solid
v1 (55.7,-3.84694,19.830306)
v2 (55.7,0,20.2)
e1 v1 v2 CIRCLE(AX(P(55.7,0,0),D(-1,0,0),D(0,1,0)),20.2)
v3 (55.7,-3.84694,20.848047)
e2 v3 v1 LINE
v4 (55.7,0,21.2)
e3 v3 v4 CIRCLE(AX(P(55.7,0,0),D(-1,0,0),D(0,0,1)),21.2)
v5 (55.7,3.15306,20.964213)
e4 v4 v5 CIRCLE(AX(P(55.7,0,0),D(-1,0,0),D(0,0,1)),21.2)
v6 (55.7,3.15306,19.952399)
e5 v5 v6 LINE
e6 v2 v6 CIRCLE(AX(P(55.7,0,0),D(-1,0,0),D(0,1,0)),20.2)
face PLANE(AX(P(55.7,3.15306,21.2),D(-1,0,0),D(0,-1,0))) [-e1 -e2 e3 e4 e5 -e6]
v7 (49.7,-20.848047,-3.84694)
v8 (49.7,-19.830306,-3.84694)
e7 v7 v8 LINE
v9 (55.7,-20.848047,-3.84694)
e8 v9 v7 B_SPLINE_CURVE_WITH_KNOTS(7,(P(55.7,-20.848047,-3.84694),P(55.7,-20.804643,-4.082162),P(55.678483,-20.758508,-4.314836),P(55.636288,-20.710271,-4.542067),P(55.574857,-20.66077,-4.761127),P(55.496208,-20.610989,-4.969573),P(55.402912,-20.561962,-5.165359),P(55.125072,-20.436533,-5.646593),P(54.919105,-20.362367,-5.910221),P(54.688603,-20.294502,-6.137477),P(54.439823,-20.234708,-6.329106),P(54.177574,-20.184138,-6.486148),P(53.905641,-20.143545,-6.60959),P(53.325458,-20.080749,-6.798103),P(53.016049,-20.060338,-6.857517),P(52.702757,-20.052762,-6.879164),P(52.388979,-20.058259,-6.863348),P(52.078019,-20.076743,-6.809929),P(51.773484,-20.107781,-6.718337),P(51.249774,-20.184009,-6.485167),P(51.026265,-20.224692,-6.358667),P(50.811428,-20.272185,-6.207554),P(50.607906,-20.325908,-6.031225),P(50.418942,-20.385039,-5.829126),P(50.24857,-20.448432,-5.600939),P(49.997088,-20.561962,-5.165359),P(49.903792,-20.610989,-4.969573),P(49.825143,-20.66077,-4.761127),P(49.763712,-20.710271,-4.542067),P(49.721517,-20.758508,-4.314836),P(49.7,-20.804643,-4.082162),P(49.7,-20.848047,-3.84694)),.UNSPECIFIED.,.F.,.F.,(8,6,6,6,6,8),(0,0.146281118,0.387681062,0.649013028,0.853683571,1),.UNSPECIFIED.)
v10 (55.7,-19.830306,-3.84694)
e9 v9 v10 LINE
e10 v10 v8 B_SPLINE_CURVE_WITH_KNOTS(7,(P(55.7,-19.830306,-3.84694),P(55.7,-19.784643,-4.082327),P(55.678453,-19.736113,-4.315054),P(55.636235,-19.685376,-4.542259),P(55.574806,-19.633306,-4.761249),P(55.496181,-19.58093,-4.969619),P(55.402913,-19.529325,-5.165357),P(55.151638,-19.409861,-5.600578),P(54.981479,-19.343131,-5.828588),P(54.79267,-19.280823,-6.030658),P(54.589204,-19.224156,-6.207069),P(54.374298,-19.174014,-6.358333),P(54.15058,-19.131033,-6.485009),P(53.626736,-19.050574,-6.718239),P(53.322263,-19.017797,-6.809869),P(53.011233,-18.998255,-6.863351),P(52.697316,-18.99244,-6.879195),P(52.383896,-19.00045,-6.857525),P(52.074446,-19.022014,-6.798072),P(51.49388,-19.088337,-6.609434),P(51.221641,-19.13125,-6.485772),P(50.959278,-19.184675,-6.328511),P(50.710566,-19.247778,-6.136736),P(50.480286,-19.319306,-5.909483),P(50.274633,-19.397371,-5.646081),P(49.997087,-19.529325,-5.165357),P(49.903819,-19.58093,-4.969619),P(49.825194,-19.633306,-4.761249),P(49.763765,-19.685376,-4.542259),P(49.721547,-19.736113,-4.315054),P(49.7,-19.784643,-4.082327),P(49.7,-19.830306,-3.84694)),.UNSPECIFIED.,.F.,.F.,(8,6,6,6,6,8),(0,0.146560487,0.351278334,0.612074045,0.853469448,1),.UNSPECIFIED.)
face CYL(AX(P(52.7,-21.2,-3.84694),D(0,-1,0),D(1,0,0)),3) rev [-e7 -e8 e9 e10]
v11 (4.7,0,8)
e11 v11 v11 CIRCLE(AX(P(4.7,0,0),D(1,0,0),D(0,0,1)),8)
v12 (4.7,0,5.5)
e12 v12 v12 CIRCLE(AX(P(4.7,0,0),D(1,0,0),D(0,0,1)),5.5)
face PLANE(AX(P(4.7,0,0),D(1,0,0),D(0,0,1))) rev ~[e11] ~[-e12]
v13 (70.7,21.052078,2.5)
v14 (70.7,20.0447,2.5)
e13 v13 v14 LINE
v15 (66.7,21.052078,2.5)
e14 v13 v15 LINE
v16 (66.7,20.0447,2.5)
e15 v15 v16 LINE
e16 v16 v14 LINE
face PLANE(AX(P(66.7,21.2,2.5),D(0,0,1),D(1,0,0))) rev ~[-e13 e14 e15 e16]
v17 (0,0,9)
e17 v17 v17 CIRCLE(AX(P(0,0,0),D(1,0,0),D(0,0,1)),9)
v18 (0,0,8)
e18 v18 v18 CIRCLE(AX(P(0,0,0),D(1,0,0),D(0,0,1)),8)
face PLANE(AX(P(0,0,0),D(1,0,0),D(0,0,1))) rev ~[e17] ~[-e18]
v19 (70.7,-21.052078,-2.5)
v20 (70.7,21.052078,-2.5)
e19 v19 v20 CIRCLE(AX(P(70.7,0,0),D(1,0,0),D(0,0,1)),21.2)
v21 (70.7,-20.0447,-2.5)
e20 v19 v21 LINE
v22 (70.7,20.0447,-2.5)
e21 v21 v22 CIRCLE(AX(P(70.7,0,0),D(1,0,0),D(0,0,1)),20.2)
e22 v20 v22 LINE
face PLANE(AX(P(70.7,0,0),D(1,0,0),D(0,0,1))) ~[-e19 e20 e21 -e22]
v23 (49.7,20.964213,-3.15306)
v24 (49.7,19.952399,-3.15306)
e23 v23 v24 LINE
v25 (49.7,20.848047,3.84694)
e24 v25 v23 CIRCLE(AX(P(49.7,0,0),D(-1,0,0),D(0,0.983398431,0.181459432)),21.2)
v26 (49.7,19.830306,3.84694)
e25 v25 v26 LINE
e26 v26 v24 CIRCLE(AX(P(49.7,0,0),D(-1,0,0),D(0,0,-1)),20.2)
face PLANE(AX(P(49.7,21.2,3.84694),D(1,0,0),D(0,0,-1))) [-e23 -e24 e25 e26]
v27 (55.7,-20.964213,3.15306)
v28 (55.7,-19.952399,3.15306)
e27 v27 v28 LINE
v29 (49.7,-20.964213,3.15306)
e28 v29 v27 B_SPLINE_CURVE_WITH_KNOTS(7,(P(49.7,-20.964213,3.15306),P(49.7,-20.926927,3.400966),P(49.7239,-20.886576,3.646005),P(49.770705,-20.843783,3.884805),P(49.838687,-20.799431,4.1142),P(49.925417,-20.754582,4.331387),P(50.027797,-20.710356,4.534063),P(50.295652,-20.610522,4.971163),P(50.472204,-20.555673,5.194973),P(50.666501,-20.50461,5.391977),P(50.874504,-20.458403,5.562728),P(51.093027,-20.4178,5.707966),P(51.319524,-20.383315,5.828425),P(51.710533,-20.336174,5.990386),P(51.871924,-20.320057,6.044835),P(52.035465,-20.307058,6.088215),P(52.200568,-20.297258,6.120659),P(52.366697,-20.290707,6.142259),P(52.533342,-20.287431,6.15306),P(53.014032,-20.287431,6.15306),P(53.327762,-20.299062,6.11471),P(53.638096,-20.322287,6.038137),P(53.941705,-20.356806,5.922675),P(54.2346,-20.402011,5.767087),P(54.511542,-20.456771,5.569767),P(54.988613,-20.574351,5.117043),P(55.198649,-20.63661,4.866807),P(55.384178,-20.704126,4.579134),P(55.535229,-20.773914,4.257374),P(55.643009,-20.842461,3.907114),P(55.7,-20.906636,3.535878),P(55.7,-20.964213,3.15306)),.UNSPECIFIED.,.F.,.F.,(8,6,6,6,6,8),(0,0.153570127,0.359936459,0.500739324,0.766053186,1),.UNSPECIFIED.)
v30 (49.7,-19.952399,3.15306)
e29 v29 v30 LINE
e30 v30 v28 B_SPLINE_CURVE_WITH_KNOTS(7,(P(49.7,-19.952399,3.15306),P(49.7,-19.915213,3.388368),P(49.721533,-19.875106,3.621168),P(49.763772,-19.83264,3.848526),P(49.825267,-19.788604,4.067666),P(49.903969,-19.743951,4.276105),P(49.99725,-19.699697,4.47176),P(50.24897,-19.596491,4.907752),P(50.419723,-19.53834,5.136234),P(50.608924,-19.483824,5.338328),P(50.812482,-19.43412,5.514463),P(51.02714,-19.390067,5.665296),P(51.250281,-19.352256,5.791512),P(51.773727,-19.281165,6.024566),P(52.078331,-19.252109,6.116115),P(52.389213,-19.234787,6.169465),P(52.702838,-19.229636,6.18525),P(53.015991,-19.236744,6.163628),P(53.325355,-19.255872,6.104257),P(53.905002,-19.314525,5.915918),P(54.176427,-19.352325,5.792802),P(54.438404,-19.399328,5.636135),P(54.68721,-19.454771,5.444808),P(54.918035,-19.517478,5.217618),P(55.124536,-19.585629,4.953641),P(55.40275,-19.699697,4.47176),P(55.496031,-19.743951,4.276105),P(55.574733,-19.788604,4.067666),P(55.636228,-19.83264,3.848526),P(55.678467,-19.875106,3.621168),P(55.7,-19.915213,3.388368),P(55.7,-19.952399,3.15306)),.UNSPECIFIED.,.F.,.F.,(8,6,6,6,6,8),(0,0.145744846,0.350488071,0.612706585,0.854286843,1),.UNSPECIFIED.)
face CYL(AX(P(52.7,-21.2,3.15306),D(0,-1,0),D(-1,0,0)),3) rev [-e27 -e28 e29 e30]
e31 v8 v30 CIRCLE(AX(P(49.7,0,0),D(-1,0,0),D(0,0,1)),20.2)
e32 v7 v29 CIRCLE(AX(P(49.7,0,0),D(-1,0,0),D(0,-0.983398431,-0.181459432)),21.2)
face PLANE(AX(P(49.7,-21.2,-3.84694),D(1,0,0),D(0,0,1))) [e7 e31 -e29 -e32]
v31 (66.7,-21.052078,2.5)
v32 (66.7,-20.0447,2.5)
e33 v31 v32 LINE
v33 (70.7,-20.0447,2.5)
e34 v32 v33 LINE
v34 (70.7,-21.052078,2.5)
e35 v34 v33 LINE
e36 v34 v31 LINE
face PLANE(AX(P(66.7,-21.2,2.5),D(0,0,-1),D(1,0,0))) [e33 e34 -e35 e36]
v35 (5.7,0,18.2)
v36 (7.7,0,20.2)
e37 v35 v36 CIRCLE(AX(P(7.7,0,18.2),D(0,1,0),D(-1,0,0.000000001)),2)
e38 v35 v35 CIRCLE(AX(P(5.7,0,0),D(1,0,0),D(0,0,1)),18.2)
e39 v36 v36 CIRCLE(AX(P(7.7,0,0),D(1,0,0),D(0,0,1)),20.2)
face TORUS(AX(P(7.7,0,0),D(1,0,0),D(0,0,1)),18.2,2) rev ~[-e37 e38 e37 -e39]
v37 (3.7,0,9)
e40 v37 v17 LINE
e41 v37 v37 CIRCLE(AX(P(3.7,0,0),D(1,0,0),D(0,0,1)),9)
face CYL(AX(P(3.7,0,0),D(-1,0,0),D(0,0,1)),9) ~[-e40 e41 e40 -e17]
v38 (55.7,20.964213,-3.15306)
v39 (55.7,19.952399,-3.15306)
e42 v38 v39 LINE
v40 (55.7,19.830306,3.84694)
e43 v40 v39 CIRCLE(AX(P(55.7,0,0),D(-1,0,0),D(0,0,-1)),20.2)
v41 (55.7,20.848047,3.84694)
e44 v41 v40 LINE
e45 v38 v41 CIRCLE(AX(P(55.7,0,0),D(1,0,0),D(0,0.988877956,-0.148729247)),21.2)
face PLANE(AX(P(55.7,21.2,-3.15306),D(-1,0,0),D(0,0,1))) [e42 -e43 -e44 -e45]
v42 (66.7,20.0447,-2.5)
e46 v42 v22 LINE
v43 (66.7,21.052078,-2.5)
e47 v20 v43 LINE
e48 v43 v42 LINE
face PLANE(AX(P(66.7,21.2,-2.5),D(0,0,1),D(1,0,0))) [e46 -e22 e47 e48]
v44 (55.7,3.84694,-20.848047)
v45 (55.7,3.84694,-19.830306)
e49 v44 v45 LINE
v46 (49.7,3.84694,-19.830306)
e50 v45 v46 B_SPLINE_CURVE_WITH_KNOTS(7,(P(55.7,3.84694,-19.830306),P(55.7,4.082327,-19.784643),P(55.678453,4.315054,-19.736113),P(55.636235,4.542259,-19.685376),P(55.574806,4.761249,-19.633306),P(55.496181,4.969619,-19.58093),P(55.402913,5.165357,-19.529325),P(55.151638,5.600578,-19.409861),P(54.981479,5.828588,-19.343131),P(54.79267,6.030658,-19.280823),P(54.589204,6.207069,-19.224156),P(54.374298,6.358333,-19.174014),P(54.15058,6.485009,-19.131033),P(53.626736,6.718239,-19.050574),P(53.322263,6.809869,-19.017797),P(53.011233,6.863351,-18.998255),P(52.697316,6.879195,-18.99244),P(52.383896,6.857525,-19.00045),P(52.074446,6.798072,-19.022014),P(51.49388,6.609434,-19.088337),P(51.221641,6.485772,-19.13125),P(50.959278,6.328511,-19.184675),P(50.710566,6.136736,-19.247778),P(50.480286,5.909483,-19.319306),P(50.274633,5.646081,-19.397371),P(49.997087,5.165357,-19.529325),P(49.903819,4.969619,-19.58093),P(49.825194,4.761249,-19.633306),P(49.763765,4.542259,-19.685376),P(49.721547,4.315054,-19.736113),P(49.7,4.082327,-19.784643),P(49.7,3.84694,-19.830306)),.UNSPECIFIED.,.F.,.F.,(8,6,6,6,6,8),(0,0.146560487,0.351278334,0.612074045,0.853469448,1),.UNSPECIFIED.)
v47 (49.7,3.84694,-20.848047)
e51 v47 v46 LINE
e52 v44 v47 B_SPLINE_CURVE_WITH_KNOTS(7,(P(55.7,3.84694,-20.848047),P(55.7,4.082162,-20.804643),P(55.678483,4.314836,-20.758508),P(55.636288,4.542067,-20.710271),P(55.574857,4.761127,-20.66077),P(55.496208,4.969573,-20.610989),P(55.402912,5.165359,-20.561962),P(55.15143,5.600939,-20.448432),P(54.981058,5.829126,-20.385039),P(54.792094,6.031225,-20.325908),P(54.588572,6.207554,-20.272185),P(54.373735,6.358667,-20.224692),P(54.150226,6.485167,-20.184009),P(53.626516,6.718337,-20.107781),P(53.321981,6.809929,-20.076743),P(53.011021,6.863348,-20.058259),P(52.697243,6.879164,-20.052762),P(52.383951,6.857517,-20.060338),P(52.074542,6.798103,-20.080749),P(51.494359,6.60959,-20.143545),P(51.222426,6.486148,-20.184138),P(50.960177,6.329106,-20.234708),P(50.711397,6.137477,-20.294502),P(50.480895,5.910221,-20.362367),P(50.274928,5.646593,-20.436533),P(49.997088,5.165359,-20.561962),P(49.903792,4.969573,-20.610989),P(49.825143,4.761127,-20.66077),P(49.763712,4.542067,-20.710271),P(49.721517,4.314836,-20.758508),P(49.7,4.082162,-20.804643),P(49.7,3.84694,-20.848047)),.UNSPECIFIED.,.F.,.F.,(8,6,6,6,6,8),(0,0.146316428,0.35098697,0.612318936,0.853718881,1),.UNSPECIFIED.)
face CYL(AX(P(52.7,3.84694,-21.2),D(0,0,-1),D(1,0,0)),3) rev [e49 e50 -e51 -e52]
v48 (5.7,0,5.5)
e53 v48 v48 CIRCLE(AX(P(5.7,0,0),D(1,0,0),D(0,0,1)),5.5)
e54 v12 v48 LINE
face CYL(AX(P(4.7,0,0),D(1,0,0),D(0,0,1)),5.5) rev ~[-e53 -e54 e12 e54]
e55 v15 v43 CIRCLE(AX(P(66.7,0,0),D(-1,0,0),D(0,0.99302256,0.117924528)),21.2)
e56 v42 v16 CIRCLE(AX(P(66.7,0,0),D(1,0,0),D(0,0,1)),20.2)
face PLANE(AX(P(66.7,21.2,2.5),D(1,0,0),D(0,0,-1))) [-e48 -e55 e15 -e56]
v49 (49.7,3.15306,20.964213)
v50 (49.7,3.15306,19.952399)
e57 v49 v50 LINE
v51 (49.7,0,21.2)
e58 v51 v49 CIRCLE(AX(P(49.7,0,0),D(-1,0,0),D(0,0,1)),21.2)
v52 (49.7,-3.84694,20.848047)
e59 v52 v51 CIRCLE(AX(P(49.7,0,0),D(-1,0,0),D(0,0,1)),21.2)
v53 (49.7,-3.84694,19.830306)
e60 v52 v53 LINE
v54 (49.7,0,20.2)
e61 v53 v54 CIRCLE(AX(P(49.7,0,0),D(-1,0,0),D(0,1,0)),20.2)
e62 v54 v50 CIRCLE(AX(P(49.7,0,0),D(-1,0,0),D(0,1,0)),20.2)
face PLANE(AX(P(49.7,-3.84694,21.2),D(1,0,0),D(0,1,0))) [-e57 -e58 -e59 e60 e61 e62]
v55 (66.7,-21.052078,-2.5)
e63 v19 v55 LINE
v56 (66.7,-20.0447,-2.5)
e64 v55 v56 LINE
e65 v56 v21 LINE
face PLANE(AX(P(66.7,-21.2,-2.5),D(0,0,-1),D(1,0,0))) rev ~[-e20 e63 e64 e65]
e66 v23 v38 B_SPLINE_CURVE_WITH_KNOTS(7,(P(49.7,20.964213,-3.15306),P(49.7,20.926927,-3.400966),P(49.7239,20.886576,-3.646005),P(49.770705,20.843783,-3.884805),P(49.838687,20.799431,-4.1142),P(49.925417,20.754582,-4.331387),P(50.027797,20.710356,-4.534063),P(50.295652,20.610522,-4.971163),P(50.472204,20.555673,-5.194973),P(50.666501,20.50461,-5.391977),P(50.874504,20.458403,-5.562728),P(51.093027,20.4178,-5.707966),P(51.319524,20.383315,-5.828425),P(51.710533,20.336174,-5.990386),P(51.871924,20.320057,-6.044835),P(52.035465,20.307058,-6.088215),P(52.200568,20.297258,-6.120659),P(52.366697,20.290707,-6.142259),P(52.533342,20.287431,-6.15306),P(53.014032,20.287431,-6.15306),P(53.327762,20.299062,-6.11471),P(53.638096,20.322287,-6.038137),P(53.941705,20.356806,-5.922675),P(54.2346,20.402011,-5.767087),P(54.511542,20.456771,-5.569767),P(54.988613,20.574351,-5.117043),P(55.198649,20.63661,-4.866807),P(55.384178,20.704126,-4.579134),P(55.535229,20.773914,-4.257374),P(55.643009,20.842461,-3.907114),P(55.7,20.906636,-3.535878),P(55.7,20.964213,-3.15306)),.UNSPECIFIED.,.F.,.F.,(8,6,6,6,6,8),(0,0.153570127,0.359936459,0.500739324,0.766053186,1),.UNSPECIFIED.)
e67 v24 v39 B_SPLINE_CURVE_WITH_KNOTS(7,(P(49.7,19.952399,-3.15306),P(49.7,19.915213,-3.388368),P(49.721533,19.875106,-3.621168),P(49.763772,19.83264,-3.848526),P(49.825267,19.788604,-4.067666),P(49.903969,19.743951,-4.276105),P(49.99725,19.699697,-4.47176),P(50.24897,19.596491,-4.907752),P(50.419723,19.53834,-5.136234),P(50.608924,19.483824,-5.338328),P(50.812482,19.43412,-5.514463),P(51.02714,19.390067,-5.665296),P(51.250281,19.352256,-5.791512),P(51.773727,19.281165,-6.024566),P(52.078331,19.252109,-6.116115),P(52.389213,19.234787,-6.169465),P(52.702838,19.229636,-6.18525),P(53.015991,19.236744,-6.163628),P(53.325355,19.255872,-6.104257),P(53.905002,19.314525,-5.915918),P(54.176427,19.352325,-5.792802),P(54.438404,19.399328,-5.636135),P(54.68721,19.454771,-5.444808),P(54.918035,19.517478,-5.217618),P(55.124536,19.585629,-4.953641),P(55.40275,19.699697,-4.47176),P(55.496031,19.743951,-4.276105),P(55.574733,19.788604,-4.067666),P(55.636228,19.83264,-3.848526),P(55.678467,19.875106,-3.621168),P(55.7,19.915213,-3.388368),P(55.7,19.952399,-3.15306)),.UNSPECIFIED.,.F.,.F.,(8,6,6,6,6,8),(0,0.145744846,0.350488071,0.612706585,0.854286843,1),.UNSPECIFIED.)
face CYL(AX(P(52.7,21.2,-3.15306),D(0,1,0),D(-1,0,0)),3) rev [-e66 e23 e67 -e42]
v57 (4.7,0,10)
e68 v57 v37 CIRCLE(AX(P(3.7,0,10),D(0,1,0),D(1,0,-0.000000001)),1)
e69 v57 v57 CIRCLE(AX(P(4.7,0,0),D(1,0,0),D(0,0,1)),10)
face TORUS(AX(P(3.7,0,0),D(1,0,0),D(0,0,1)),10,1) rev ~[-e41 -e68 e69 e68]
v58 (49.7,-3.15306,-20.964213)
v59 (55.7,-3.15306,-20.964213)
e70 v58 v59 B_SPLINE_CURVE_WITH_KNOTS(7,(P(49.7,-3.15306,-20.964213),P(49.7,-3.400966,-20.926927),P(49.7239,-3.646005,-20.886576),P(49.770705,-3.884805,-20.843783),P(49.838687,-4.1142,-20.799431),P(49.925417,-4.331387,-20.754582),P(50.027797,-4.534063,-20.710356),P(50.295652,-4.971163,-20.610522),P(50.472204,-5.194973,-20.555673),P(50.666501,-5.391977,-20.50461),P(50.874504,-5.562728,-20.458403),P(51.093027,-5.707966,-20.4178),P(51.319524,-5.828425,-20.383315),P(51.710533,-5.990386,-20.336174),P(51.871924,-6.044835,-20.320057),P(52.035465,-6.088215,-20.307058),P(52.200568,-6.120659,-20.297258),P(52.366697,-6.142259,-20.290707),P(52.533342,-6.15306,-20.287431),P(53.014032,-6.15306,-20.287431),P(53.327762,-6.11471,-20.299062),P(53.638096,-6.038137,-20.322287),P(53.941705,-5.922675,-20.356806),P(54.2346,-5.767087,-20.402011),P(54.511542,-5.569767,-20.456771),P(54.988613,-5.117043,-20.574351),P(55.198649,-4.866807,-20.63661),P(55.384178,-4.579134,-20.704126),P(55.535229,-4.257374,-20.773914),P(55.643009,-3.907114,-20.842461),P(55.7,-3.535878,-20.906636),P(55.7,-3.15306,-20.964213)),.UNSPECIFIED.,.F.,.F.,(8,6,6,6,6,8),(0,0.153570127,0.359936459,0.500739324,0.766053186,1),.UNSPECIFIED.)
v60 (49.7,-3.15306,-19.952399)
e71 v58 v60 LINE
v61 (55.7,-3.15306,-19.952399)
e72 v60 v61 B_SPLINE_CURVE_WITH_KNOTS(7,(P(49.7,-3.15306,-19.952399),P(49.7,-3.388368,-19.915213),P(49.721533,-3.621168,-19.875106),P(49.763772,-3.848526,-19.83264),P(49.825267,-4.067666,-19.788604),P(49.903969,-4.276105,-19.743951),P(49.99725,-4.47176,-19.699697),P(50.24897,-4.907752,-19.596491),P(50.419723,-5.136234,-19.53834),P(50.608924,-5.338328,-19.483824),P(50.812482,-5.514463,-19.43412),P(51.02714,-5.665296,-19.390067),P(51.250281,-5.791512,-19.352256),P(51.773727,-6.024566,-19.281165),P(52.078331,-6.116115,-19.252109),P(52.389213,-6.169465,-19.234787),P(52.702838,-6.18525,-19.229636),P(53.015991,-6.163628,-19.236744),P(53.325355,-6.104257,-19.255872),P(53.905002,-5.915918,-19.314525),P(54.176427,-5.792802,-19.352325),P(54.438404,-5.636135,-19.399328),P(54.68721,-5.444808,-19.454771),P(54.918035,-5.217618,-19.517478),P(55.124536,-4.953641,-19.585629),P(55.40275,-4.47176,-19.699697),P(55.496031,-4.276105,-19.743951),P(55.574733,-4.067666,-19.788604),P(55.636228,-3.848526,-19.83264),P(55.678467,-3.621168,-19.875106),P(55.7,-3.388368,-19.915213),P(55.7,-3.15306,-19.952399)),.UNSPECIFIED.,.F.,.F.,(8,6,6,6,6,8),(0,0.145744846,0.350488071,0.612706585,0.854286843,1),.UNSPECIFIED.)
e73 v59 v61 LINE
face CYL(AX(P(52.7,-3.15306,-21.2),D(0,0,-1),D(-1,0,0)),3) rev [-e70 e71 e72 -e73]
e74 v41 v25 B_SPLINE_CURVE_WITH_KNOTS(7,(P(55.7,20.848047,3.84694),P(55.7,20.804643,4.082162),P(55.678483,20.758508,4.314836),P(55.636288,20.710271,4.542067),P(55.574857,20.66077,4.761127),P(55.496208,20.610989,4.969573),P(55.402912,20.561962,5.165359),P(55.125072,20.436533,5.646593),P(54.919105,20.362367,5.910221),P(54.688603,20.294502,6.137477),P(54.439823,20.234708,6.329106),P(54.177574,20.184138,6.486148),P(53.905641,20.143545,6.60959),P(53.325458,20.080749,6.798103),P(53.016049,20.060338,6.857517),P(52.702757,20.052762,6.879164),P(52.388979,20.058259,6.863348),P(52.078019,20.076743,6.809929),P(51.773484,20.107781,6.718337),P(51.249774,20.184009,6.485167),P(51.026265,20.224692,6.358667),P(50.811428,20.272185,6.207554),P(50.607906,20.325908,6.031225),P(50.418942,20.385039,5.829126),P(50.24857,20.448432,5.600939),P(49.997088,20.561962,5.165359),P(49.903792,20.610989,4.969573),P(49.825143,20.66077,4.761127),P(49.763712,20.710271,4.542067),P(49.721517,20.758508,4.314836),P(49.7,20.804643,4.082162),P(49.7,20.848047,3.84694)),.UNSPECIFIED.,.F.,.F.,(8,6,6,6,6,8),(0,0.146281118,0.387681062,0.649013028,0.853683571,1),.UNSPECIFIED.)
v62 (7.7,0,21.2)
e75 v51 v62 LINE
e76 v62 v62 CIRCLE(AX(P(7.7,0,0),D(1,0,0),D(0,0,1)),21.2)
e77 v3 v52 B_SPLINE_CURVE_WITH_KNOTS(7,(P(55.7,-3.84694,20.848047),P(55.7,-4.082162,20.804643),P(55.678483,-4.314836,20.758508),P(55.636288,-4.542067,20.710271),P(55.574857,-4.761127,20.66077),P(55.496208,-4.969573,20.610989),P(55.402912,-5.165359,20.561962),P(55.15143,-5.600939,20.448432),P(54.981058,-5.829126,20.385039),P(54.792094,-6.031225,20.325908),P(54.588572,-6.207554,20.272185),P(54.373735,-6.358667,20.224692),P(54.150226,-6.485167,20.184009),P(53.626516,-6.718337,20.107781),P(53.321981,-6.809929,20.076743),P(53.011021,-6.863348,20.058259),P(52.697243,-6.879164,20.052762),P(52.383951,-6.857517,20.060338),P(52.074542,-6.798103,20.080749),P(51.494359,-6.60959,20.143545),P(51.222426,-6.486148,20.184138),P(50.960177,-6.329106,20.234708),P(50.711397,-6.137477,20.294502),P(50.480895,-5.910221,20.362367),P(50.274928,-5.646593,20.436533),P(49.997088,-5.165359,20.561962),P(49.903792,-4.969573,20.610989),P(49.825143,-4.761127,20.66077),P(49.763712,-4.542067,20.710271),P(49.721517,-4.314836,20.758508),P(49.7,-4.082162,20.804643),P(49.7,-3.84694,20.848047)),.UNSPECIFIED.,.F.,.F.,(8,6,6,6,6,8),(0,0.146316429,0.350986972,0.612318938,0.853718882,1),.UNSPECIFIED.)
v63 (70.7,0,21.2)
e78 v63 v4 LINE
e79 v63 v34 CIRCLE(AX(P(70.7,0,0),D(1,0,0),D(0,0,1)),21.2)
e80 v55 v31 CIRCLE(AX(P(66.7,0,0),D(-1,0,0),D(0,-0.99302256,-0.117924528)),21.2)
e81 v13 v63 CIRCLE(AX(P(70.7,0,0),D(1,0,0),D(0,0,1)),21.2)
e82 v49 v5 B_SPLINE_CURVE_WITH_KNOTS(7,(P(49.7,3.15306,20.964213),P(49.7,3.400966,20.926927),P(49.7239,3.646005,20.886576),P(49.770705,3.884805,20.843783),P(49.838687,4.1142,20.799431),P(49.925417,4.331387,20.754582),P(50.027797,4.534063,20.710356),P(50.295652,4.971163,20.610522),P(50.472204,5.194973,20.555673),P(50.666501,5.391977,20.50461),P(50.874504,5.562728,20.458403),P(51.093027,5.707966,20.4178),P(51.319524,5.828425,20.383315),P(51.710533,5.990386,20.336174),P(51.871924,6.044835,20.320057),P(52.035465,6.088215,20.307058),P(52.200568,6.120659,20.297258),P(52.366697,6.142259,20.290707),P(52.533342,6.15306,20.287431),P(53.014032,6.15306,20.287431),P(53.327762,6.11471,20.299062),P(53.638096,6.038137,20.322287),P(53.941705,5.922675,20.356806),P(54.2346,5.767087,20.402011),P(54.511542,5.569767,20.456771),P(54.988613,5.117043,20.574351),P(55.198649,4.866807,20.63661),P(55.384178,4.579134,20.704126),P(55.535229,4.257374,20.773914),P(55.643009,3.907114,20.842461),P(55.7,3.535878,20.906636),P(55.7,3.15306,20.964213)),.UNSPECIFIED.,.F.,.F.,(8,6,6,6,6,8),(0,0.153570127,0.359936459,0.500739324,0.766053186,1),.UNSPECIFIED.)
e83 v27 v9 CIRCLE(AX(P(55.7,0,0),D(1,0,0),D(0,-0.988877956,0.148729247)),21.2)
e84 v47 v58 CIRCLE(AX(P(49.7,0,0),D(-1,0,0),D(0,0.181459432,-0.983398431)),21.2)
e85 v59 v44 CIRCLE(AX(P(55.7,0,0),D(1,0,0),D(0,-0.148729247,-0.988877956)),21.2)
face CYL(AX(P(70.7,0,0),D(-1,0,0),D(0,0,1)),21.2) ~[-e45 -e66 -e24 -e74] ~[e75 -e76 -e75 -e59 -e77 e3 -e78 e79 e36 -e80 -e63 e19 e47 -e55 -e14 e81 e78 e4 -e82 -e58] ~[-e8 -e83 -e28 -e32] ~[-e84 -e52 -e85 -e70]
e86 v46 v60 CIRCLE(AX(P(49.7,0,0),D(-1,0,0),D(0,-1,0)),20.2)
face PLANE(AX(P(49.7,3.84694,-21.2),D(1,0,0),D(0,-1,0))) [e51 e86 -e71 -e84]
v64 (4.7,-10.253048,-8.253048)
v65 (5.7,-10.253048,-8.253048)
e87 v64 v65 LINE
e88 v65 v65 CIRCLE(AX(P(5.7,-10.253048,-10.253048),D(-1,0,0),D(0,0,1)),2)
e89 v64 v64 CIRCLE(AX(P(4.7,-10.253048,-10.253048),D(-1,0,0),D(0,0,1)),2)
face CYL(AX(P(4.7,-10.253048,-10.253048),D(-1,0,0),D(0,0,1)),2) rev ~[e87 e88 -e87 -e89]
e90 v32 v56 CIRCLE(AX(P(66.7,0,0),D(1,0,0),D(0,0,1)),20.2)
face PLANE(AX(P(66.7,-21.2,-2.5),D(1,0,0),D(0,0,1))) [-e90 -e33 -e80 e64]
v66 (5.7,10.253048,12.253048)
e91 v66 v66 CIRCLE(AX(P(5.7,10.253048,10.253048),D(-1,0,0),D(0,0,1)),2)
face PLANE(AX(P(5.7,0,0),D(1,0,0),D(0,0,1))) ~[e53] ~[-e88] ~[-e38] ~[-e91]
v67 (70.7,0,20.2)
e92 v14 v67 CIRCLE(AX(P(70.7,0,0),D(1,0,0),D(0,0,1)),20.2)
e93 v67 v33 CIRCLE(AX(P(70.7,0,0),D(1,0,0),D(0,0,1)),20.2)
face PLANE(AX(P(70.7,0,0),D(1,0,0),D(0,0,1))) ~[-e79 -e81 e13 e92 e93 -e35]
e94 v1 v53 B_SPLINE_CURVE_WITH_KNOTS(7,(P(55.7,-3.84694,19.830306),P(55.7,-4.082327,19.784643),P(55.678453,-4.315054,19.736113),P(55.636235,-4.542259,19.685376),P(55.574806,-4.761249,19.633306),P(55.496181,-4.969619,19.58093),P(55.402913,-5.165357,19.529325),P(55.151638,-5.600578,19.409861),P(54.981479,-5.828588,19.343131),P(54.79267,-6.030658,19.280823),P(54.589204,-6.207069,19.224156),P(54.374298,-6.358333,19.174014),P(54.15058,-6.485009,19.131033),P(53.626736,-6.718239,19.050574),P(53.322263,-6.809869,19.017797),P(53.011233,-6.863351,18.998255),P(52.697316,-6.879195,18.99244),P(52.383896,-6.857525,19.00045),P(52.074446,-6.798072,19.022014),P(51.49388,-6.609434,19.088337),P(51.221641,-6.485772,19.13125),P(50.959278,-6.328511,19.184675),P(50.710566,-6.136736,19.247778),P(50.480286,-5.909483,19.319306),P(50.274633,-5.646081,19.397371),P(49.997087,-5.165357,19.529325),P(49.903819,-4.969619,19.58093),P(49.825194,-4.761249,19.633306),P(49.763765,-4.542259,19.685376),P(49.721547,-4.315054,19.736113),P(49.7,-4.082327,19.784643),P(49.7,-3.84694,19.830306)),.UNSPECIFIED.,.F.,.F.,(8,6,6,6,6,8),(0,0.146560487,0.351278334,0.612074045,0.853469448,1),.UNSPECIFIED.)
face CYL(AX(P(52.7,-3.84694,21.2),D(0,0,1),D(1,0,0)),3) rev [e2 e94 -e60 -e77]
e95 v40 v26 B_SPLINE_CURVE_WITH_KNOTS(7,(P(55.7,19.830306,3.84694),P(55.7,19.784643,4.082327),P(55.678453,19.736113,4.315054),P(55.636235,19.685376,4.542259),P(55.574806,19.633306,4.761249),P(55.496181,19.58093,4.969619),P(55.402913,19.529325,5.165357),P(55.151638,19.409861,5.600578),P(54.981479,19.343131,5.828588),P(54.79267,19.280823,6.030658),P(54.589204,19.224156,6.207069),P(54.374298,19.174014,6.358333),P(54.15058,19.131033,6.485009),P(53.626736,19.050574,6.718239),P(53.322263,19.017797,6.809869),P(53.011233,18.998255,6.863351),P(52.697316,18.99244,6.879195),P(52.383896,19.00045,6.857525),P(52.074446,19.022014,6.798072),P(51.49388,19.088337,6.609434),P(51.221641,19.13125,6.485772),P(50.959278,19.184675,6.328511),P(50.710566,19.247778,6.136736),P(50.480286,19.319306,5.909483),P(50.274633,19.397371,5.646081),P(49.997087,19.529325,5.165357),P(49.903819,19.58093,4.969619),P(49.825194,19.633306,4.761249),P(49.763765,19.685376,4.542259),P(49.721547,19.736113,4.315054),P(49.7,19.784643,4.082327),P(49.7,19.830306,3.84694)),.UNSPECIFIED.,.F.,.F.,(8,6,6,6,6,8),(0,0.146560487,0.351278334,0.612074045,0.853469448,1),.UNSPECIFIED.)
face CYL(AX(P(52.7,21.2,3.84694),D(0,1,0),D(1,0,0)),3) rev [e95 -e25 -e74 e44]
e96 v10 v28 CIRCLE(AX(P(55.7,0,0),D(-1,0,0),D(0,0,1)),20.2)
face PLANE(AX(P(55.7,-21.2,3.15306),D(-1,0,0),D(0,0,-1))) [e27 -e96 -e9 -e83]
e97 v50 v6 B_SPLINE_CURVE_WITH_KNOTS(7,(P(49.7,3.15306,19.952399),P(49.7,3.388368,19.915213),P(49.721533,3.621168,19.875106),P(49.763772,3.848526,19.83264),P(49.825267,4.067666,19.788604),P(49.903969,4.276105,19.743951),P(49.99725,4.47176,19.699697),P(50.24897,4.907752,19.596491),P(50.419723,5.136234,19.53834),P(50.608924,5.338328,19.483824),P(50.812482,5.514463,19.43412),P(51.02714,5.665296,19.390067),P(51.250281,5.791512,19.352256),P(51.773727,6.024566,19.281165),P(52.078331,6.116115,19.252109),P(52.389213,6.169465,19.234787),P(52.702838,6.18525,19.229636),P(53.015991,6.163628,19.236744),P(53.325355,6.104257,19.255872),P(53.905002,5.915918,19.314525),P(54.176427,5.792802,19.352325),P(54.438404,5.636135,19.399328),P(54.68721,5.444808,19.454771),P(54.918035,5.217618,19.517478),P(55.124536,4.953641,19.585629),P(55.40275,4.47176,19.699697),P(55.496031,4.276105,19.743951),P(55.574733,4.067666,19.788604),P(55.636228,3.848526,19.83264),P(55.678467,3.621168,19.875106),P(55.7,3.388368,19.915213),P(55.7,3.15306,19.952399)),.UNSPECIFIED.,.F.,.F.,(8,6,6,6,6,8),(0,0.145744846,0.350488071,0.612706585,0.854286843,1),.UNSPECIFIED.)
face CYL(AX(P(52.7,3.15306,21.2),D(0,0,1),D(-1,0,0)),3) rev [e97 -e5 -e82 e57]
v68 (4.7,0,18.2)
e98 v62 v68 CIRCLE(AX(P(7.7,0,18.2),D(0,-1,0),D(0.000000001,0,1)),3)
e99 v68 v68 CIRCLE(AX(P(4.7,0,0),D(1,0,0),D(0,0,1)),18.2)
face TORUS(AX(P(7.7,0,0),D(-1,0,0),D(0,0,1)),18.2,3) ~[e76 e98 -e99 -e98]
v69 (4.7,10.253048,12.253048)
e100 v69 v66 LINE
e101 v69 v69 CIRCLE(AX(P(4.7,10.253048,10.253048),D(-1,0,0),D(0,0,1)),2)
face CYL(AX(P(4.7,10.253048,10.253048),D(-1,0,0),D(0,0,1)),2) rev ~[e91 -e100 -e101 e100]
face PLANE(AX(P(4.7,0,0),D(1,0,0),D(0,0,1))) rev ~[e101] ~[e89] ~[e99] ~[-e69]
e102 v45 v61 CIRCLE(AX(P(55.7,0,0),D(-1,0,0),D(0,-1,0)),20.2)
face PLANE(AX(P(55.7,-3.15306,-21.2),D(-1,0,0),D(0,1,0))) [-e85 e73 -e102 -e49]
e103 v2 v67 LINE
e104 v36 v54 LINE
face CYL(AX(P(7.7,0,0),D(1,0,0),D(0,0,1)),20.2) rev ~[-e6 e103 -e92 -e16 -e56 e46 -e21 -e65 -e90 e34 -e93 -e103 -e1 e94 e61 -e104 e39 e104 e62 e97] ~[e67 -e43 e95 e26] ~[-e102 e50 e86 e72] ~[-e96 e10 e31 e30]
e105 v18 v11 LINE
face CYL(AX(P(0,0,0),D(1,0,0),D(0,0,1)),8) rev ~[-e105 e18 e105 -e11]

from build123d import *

# Parameters (mm, degrees)
CUT_EXTRUDE6_REACH      = 87.122
CUT_EXTRUDE6_END_RADIUS = 20.2
CIRPATTERN21_COUNT      = 4
SKETCH10_W              = 4
SKETCH10_H              = 5
CUT_EXTRUDE7_DEPTH      = 10
CIRPATTERN22_COUNT      = 2
CUT_EXTRUDE8_REACH      = 74.491
SKETCH13_R              = 2


with BuildPart() as part:
    # Sketch1 → Revolve2 (revolve)
    with BuildSketch(Plane.XY, mode=Mode.PRIVATE) as revolve2_sk:
        with BuildLine():
            Line((70.7, 21.2), (7.7, 21.2))
            ThreePointArc((7.7, 21.2), (5.578679656, 20.321320344), (4.7, 18.2))
            Line((4.7, 18.2), (4.7, 10))
            ThreePointArc((4.7, 10), (4.407106781, 9.292893219), (3.7, 9))
            Line((3.7, 9), (0, 9))
            Line((0, 9), (0, 8))
            Line((0, 8), (4.7, 8))
            Line((4.7, 8), (4.7, 5.5))
            Line((4.7, 5.5), (5.7, 5.5))
            Line((5.7, 5.5), (5.7, 8))
            Line((5.7, 8), (5.7, 18.2))
            ThreePointArc((5.7, 18.2), (6.285786438, 19.614213562), (7.7, 20.2))
            Line((7.7, 20.2), (70.7, 20.2))
            Line((70.7, 20.2), (70.7, 21.2))
        make_face()
    revolve(revolve2_sk.sketch.rotate(Axis((0, 0, 0), (1, 0, 0)), 90), axis=Axis((0, 0, 0), (1, 0, 0)))

    # Cut-Extrude6: up to this cylinder (the profile starts outside it)
    cut_extrude6_end = Plane(origin=(52.7, 0, 0), z_dir=(-1, 0, 0)) * Cylinder(CUT_EXTRUDE6_END_RADIUS, 215.644, mode=Mode.PRIVATE)
    # Sketch8 → Cut-Extrude6 (cut, up to the surface)
    with BuildSketch(Plane(origin=(70.7, 21.2, 0), x_dir=(1, 0, 0), z_dir=(0, 1, 0)), mode=Mode.PRIVATE) as cut_extrude6_sk1:
        with BuildLine():
            Line((-15, 3.153060045), (-15, -3.846939955))
            ThreePointArc((-15, -3.846939955), (-18, -6.846939955), (-21, -3.846939955))
            Line((-21, -3.846939955), (-21, 3.153060045))
            ThreePointArc((-21, 3.153060045), (-18, 6.153060045), (-15, 3.153060045))
        make_face()
    cut_extrude6_tool1 = extrude(cut_extrude6_sk1.sketch, amount=-CUT_EXTRUDE6_REACH, mode=Mode.PRIVATE) - cut_extrude6_end
    cut_extrude6 = cut_extrude6_tool1.solids().sort_by_distance((52.7, 21.2, 0.34694))[0]
    add(cut_extrude6, mode=Mode.SUBTRACT)

    # CirPattern21: Cut-Extrude6 ×4 about axis
    cirpattern21_axis = Axis((0, 0, 0), (-1, 0, 0))
    for i in range(1, CIRPATTERN21_COUNT):
        add(cut_extrude6.rotate(cirpattern21_axis, i * 360 / CIRPATTERN21_COUNT), mode=Mode.SUBTRACT)

    # Sketch10 → Cut-Extrude7 (cut)
    with BuildSketch(Plane(origin=(70.7, 21.2, 0), x_dir=(1, 0, 0), z_dir=(0, 1, 0))):
        with Locations((-2, 0)):
            Rectangle(SKETCH10_W, SKETCH10_H)
    cut_extrude7 = extrude(amount=-CUT_EXTRUDE7_DEPTH, mode=Mode.SUBTRACT)

    # CirPattern22: Cut-Extrude7 ×2 about axis
    cirpattern22_axis = Axis((0, 0, 0), (-1, 0, 0))
    for i in range(1, CIRPATTERN22_COUNT):
        add(cut_extrude7.rotate(cirpattern22_axis, i * 360 / CIRPATTERN22_COUNT), mode=Mode.SUBTRACT)

    # Sketch13 → Cut-Extrude8 (cut, up to next)
    with BuildSketch(Plane.ZY.offset(-4.7), mode=Mode.PRIVATE) as cut_extrude8_sk1:
        with Locations((10.253048327, 10.253048327)):
            Circle(SKETCH13_R)
    cut_extrude8_tool1 = extrude(cut_extrude8_sk1.sketch, amount=-CUT_EXTRUDE8_REACH, mode=Mode.PRIVATE) & part.part
    # Sketch13 → Cut-Extrude8 (cut, up to next)
    with BuildSketch(Plane.ZY.offset(-4.7), mode=Mode.PRIVATE) as cut_extrude8_sk2:
        with Locations((-10.253048327, -10.253048327)):
            Circle(SKETCH13_R)
    cut_extrude8_tool2 = extrude(cut_extrude8_sk2.sketch, amount=-CUT_EXTRUDE8_REACH, mode=Mode.PRIVATE) & part.part
    add(cut_extrude8_tool1.solids().sort_by_distance((4.7, 10.253048, 10.253048))[0], mode=Mode.SUBTRACT)
    add(cut_extrude8_tool2.solids().sort_by_distance((4.7, -10.253048, -10.253048))[0], mode=Mode.SUBTRACT)


solid = part.part
